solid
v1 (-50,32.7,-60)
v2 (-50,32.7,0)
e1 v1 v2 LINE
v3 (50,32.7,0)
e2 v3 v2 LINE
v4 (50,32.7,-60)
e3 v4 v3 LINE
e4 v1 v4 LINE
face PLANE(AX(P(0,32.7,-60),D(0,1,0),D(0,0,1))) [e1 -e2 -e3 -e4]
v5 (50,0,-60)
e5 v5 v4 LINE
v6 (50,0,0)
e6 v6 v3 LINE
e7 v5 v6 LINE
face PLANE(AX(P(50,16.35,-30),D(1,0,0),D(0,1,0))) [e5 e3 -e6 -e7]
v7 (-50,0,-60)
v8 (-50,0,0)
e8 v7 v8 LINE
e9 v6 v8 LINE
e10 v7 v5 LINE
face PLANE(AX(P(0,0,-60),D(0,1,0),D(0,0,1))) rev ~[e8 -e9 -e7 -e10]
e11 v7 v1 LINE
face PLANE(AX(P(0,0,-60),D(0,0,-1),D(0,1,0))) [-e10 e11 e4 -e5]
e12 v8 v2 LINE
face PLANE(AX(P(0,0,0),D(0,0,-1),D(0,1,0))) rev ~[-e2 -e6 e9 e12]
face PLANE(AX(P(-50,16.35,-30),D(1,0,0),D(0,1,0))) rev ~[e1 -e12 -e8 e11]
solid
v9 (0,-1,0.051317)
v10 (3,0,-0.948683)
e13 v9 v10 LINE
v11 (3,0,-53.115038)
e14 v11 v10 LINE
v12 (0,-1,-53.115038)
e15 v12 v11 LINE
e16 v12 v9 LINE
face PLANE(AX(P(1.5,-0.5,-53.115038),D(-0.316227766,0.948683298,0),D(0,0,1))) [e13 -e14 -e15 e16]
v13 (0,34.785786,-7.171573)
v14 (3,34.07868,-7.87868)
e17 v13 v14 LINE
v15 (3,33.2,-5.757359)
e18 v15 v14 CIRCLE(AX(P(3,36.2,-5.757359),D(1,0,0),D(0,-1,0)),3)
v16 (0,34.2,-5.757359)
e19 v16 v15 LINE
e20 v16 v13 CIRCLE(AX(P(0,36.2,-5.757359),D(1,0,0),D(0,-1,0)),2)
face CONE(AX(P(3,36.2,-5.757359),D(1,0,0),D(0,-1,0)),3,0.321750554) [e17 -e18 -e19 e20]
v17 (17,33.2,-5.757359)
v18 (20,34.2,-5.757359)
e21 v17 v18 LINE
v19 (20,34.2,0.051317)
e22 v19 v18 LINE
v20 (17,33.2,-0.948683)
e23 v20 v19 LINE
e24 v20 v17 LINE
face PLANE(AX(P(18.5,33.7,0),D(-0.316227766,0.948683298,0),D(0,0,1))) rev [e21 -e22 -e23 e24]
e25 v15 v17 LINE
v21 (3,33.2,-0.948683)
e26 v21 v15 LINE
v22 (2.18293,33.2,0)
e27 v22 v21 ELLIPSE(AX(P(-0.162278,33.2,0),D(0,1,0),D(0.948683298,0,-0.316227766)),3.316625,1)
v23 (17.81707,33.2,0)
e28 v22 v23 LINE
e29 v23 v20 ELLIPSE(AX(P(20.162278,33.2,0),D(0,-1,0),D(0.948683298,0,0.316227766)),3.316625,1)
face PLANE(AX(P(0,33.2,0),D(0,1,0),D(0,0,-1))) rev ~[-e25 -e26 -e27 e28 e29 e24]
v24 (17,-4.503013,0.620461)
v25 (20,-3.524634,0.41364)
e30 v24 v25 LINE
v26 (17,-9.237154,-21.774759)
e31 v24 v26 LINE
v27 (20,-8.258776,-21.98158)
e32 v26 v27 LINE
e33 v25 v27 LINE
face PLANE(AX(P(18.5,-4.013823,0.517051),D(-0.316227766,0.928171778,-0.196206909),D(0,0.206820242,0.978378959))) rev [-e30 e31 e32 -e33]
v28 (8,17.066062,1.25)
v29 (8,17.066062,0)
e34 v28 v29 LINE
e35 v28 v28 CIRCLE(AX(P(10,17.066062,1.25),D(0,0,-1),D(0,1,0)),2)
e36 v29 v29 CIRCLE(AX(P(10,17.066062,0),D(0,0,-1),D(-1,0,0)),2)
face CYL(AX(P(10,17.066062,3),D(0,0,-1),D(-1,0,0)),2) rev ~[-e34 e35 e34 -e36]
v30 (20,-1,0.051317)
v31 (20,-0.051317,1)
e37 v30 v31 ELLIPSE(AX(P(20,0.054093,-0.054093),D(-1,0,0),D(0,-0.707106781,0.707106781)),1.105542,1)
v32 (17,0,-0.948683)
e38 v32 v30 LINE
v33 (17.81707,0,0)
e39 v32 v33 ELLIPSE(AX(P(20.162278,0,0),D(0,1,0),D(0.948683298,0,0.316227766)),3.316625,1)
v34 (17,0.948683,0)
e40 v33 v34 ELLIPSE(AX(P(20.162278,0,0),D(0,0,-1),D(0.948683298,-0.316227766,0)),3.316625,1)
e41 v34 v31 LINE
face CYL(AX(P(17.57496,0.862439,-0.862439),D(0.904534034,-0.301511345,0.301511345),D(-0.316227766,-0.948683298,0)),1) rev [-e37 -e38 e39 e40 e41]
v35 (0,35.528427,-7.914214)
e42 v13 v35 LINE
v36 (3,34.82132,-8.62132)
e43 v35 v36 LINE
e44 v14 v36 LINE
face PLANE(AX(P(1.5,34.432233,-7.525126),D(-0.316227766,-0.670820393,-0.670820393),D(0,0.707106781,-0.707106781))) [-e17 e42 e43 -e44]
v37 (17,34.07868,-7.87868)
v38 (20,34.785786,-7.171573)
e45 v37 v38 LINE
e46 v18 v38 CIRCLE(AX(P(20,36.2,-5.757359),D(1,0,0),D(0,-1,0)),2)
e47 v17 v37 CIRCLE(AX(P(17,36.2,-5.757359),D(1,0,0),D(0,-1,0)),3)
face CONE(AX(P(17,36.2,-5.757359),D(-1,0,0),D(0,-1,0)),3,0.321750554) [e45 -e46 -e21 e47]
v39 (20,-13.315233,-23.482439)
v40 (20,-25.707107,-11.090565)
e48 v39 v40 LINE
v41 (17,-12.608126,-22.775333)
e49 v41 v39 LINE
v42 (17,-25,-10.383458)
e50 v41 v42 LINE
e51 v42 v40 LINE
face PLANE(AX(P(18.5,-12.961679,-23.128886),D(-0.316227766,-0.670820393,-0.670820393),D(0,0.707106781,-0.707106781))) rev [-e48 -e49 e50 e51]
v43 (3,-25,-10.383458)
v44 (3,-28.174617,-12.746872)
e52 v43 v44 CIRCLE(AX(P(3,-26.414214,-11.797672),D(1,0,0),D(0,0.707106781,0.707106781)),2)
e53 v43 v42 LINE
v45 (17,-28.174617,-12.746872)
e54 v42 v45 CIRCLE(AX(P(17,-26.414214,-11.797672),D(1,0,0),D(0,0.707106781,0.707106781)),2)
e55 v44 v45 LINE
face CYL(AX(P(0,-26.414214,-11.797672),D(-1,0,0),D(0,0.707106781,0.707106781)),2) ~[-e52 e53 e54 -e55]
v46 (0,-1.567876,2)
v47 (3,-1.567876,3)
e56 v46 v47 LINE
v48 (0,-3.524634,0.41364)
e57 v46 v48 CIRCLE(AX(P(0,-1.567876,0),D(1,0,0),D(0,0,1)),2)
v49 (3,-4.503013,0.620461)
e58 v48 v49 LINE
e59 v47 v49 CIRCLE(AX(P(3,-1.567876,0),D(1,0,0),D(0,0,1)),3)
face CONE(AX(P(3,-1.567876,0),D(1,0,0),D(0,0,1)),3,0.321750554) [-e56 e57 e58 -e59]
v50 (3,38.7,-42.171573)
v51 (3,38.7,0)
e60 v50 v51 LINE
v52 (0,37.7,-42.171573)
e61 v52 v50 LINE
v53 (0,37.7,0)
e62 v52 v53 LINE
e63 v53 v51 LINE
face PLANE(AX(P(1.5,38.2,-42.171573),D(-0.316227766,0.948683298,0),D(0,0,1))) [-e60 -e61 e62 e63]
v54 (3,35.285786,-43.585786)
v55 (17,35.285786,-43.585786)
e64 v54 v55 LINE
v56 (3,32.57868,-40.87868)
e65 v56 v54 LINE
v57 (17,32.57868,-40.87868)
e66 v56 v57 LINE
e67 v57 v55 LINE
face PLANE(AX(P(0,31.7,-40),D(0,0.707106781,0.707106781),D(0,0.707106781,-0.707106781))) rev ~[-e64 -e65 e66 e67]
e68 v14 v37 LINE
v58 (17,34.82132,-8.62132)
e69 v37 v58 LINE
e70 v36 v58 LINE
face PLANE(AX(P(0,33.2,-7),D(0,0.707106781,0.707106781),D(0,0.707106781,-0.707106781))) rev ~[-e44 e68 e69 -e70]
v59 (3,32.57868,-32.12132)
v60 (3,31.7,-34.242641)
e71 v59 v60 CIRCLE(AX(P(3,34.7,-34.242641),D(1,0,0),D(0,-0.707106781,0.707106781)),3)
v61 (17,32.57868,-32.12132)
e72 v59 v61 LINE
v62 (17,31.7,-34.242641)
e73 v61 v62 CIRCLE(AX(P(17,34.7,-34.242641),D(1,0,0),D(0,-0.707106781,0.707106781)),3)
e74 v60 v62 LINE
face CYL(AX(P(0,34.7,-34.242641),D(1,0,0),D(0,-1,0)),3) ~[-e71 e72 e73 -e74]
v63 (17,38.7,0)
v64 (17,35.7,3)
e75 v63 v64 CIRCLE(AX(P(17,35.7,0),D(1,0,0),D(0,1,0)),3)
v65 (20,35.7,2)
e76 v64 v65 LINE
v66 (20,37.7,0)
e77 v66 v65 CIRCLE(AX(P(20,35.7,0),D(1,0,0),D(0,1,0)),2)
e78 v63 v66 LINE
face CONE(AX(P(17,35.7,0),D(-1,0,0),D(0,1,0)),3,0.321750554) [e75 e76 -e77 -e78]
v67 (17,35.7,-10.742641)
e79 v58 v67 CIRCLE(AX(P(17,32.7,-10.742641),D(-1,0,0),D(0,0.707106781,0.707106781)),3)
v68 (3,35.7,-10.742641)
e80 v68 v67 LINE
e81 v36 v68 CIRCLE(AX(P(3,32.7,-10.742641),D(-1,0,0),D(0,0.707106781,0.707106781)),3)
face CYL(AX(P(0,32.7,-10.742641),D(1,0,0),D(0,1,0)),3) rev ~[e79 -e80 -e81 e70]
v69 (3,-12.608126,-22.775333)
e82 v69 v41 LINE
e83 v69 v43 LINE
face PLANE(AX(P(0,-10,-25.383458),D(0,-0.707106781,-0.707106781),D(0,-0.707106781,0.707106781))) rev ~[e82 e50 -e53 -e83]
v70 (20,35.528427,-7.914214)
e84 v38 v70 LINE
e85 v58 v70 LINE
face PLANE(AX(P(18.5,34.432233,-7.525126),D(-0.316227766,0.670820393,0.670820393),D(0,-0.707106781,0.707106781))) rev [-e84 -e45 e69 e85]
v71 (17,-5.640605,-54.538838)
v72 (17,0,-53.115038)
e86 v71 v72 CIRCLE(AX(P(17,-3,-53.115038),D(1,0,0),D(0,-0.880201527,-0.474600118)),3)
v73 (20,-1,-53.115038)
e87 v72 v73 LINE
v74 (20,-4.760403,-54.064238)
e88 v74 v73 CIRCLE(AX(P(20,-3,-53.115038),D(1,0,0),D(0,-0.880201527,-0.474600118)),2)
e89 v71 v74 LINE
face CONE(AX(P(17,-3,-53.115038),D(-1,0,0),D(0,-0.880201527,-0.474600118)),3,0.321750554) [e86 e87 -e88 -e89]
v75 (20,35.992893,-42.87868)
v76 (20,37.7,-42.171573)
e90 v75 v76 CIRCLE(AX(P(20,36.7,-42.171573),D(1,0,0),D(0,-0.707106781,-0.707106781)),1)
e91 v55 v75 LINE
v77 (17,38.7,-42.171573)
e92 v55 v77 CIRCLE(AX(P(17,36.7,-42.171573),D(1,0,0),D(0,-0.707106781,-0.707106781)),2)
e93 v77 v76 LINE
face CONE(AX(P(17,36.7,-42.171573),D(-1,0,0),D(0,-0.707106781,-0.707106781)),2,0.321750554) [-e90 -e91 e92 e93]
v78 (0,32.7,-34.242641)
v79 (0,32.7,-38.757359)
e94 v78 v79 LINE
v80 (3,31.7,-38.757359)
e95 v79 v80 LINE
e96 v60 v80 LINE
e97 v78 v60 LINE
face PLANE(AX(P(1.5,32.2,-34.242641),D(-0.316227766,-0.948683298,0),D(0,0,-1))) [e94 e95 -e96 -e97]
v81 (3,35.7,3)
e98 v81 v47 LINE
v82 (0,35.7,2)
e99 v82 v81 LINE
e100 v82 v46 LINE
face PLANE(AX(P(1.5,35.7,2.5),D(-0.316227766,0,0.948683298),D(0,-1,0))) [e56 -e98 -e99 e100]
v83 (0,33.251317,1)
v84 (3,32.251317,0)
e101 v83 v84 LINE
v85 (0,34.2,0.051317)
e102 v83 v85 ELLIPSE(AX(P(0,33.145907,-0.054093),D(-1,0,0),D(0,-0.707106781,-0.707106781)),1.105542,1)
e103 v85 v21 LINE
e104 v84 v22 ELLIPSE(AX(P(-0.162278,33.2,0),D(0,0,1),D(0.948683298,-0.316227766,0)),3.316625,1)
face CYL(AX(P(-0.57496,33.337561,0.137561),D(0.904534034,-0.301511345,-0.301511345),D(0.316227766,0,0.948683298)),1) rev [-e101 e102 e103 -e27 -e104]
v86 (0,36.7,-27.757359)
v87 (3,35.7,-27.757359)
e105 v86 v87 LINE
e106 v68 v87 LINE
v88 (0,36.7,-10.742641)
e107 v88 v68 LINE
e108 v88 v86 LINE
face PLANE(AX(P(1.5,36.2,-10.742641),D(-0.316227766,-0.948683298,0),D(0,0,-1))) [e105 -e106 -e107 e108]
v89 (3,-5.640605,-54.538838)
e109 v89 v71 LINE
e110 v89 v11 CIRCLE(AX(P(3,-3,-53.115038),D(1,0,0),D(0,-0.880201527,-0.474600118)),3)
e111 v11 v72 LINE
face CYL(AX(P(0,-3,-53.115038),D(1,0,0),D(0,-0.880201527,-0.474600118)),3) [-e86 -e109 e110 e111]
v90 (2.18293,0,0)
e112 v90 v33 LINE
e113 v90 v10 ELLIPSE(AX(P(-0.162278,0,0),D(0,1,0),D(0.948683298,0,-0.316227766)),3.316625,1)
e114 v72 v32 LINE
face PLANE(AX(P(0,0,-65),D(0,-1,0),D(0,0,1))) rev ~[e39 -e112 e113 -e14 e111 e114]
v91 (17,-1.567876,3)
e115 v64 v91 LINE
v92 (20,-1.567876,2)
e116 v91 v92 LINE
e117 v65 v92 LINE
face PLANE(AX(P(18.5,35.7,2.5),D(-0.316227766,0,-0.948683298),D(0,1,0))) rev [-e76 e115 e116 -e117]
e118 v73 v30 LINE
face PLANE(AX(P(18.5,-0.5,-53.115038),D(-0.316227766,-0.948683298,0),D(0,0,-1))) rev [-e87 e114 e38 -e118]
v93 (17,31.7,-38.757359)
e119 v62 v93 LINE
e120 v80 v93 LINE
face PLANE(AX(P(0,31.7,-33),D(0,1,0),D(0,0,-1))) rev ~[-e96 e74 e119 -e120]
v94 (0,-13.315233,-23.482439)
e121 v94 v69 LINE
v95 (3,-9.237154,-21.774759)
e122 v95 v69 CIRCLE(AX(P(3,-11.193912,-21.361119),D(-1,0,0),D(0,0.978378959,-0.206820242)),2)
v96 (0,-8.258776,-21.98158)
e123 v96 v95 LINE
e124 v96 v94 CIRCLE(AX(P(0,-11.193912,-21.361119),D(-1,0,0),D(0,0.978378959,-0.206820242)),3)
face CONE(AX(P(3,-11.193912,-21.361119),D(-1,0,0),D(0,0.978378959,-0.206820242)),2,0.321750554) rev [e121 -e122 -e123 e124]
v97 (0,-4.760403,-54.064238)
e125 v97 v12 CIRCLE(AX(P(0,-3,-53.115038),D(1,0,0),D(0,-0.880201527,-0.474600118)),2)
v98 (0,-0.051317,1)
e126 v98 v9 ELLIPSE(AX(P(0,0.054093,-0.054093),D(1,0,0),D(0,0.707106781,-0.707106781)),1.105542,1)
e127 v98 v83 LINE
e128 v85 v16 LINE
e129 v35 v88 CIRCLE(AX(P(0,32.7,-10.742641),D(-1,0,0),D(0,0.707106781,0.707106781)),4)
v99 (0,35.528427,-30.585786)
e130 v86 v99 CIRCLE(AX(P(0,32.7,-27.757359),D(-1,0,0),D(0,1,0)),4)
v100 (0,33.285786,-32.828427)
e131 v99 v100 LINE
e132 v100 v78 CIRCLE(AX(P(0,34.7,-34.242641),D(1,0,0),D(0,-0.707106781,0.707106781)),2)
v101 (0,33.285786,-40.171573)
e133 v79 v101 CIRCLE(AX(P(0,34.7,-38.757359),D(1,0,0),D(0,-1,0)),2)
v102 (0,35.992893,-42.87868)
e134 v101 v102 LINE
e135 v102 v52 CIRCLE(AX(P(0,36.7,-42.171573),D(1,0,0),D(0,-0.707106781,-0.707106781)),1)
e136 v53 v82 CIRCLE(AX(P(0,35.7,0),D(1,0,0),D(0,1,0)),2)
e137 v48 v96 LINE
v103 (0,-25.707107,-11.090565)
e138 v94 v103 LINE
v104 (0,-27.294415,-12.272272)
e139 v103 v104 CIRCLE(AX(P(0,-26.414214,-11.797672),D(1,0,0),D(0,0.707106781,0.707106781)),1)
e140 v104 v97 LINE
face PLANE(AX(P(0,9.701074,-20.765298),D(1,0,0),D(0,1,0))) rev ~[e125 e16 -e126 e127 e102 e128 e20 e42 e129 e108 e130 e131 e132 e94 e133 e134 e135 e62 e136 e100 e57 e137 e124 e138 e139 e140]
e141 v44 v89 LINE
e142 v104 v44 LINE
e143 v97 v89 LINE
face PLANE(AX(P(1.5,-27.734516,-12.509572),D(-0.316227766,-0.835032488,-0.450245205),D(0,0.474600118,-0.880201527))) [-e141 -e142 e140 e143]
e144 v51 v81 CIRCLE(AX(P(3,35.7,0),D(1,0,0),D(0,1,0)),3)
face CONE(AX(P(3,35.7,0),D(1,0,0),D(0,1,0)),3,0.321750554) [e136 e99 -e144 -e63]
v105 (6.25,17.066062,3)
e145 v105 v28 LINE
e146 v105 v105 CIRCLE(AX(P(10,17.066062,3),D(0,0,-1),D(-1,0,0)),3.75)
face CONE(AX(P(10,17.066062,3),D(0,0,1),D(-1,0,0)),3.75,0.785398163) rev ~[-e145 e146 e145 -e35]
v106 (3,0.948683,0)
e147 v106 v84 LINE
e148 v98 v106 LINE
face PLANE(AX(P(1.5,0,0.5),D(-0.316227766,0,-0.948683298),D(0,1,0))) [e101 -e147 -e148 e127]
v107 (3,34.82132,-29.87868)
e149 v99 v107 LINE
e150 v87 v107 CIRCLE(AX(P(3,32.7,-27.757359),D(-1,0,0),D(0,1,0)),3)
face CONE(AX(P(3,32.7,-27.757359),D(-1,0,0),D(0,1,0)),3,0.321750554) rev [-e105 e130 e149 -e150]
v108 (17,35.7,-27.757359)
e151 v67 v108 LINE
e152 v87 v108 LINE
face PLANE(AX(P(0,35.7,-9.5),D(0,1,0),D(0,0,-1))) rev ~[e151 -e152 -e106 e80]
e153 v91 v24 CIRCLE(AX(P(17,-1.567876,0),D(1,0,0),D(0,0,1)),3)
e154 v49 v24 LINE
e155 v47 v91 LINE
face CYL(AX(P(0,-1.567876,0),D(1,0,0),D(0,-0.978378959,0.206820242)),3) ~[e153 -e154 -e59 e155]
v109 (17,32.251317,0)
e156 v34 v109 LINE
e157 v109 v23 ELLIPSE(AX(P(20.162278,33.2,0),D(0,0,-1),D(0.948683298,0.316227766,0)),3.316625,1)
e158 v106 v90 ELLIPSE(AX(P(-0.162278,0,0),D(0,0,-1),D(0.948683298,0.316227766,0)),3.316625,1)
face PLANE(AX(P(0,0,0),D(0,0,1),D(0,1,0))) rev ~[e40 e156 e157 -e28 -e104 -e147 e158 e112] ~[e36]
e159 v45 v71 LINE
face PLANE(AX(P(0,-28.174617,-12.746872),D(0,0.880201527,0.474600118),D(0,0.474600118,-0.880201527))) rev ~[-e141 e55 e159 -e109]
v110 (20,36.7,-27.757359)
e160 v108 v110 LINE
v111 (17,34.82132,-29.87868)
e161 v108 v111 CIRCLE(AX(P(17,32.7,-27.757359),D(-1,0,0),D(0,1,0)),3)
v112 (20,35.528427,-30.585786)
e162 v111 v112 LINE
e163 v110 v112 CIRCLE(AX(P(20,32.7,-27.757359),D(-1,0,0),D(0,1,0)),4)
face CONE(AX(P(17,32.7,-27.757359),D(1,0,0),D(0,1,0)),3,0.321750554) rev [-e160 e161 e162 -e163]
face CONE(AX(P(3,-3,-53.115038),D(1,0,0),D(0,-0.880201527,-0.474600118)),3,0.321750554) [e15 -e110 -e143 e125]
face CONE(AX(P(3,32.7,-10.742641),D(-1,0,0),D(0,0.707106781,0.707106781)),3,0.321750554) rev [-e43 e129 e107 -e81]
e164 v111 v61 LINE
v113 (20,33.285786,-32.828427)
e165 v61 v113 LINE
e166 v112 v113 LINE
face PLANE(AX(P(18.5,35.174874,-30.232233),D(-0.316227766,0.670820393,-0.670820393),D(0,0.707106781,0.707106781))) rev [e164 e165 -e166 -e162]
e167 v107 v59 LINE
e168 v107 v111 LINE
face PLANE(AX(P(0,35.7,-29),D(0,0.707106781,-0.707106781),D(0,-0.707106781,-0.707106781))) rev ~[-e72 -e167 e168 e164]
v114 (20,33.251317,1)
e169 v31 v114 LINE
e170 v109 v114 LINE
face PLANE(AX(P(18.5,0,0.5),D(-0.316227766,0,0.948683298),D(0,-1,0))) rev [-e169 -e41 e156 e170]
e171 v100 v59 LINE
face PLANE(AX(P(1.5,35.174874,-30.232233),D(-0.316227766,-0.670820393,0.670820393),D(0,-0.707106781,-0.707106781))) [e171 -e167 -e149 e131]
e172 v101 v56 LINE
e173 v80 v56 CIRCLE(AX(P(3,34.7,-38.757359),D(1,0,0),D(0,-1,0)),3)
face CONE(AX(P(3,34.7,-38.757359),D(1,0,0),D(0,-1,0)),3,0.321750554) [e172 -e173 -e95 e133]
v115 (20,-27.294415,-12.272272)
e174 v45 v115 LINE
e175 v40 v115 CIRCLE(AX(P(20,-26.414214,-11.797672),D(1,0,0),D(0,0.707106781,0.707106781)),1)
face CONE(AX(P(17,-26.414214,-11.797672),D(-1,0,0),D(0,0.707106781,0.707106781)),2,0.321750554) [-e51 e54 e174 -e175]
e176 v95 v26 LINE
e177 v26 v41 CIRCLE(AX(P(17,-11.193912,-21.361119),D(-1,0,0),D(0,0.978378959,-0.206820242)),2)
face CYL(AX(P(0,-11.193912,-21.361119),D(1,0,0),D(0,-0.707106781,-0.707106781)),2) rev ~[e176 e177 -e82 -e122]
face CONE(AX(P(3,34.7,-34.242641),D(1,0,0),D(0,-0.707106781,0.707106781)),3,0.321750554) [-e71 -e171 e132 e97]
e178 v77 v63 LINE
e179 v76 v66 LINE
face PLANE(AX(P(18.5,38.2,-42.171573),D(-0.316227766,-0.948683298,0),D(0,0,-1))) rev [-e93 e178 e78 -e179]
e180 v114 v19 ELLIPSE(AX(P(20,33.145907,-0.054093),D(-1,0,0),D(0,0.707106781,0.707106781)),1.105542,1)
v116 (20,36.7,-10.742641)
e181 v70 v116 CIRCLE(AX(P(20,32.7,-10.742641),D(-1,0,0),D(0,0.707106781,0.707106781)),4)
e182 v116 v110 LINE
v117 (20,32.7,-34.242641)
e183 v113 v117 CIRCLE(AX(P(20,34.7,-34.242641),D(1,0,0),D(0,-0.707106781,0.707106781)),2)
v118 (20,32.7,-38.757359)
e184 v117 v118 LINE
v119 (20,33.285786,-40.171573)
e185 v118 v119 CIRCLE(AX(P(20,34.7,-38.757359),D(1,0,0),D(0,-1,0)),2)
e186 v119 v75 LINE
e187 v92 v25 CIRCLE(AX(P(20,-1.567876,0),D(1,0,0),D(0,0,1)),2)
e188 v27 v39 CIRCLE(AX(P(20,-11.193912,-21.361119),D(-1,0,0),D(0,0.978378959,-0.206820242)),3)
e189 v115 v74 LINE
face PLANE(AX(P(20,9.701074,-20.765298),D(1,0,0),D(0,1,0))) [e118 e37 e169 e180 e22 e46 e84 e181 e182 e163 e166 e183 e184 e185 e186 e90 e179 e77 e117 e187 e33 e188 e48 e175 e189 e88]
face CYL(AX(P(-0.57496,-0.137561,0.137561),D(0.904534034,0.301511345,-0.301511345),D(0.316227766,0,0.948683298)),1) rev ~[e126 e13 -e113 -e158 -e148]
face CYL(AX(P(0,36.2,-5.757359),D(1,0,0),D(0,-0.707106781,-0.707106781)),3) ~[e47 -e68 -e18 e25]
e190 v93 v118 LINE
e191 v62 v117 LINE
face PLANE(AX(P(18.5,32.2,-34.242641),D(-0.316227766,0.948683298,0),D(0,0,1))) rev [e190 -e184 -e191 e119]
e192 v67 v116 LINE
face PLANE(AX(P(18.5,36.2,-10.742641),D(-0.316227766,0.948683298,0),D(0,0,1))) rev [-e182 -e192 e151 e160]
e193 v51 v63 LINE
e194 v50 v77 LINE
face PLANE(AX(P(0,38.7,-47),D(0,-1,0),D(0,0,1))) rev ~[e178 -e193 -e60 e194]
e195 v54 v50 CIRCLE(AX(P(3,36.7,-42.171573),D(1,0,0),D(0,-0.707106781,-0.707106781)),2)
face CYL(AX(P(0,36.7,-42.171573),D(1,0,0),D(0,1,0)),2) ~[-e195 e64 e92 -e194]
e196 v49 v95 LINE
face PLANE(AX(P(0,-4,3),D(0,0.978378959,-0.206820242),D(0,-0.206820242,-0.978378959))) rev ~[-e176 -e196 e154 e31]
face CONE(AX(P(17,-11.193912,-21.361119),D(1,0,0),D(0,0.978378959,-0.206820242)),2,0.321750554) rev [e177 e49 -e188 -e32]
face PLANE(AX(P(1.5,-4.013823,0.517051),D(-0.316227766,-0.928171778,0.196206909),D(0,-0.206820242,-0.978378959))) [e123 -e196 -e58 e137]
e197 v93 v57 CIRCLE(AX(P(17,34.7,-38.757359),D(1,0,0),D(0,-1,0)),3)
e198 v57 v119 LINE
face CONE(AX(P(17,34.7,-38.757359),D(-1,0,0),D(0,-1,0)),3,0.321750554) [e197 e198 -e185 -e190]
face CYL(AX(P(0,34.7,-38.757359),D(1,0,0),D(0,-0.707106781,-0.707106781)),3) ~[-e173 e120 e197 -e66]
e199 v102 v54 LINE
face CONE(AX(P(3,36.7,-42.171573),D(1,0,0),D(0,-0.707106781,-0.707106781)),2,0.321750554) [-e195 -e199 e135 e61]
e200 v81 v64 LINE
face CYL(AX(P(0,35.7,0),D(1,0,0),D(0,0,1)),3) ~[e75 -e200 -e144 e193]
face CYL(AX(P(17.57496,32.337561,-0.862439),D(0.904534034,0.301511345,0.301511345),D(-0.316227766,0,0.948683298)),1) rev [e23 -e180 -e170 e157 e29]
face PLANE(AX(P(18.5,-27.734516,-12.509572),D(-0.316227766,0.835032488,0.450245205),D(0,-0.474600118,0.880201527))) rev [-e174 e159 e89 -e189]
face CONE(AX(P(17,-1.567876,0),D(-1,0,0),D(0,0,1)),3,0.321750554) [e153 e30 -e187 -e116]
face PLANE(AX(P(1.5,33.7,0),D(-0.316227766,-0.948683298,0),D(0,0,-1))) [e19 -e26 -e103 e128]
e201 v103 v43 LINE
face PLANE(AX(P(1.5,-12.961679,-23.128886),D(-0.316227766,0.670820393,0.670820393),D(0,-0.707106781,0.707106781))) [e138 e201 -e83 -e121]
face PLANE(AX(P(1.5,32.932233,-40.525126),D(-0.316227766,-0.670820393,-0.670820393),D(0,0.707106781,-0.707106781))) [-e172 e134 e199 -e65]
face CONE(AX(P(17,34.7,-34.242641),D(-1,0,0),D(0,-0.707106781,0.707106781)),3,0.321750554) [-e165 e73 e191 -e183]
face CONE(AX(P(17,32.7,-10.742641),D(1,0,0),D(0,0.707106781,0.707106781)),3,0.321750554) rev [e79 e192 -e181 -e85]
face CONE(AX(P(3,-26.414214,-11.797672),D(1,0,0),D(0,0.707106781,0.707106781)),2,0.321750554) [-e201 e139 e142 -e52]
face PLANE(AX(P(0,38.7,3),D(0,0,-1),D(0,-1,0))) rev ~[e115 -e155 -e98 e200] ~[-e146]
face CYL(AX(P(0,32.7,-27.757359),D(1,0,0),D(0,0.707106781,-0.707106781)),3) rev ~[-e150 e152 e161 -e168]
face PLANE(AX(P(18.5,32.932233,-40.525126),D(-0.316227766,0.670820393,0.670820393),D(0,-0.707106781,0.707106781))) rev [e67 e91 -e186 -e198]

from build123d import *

# Parameters (mm, degrees)
F0_W            = 32.7
F0_H            = 60
F1_DEPTH        = 50
F1_DEPTH_BACK   = 50
F3_DEPTH        = 20
F4_R            = 3
F5_R            = 2
F6_R            = 3
F7_R            = 2
F8_R            = 3
F9_SIZE2        = 1
F9_SIZE         = 3
F10_SIZE2       = 3
F10_SIZE        = 1
F12_D           = 4
F12_CSINK_D     = 7.5
F12_CSINK_ANGLE = 90
F13_R           = 1


with BuildPart() as f1:
    # F0 (on Right) → F1 (new body, two sides)
    with BuildSketch(Plane.YZ) as f1_sk:
        with Locations((16.35, -30)):
            Rectangle(F0_W, F0_H)
    extrude(amount=F1_DEPTH)
    extrude(f1_sk.sketch, amount=-F1_DEPTH_BACK)


with BuildPart() as f3:
    # F2 (on Right) → F3 (new body)
    with BuildSketch(Plane.YZ):
        with BuildLine():
            Line((-28.1746166165, -12.7468722772), (0, -65))
            Line((0, -65), (0, 0))
            Line((0, 0), (33.2, 0))
            Line((33.2, 0), (33.2, -7))
            Line((33.2, -7), (35.7, -9.5))
            Line((35.7, -9.5), (35.7, -29))
            Line((35.7, -29), (31.7, -33))
            Line((31.7, -33), (31.7, -40))
            Line((31.7, -40), (38.7, -47))
            Line((38.7, -47), (38.7, 3))
            Line((38.7, 3), (-4, 3))
            Line((-4, 3), (-10, -25.3834584793))
            Line((-10, -25.3834584793), (-25, -10.3834584793))
            ThreePointArc((-25, -10.3834584793), (-27.6085305161, -10.1934254852), (-28.1746166165, -12.7468722772))
        make_face()
    extrude(amount=F3_DEPTH)

    # F4
    f4_edges = [f3.edges().sort_by_distance(p)[0] for p in [
        (10, 0, -65),
    ]]
    fillet(f4_edges, radius=F4_R)

    # F5
    f5_edges = [f3.edges().sort_by_distance(p)[0] for p in [
        (10, -10, -25.383458),
    ]]
    fillet(f5_edges, radius=F5_R)

    # F6
    f6_edges = [f3.edges().sort_by_distance(p)[0] for p in [
        (10, -4, 3),
        (10, 38.7, 3),
    ]]
    fillet(f6_edges, radius=F6_R)

    # F7
    f7_edges = [f3.edges().sort_by_distance(p)[0] for p in [
        (10, 38.7, -47),
    ]]
    fillet(f7_edges, radius=F7_R)

    # F8
    f8_edges = [f3.edges().sort_by_distance(p)[0] for p in [
        (10, 33.2, -7),
        (10, 35.7, -9.5),
        (10, 35.7, -29),
        (10, 31.7, -33),
        (10, 31.7, -40),
    ]]
    fillet(f8_edges, radius=F8_R)

    # F9
    f9_edges = [f3.edges().sort_by_distance(p)[0] for p in [
        (20, 33.932233, -42.232233),
        (20, 31.928361, -39.90541),
        (20, 37.465367, -44.019332),
        (20, 31.7, -36.5),
        (20, 38.7, -21.085786),
        (20, 31.928361, -33.09459),
        (20, 37.82132, 2.12132),
        (20, 33.7, -31),
        (20, 17.066062, 3),
        (20, 35.471639, -28.90541),
        (20, -3.457137, 2.330384),
        (20, 35.7, -19.25),
        (20, -6.870084, -10.577149),
        (20, 35.471639, -9.59459),
        (20, -10.624812, -23.278441),
        (20, 34.45, -8.25),
        (20, -18.804063, -16.579396),
        (20, 33.428361, -6.90541),
        (20, -27.608531, -10.193425),
        (20, 33.2, -2.87868),
        (20, -16.907611, -33.642855),
        (20, 16.6, 0),
        (20, -2.26577, -56.023801),
        (20, 0, -26.557519),
    ]]
    chamfer(f9_edges, length=F9_SIZE, length2=F9_SIZE2)

    # F10
    f10_edges = [f3.edges().sort_by_distance(p)[0] for p in [
        (0, 33.932233, -42.232233),
        (0, 31.928361, -39.90541),
        (0, 37.465367, -44.019332),
        (0, 31.7, -36.5),
        (0, 38.7, -21.085786),
        (0, 31.928361, -33.09459),
        (0, 37.82132, 2.12132),
        (0, 33.7, -31),
        (0, 17.066062, 3),
        (0, 35.471639, -28.90541),
        (0, -3.457137, 2.330384),
        (0, 35.7, -19.25),
        (0, -6.870084, -10.577149),
        (0, 35.471639, -9.59459),
        (0, -10.624812, -23.278441),
        (0, 34.45, -8.25),
        (0, -18.804063, -16.579396),
        (0, 33.428361, -6.90541),
        (0, -27.608531, -10.193425),
        (0, 33.2, -2.87868),
        (0, -16.907611, -33.642855),
        (0, 16.6, 0),
        (0, -2.26577, -56.023801),
        (0, 0, -26.557519),
    ]]
    f10_side = f3.faces().sort_by_distance((0, 34.564645, -41.599821))[0]
    chamfer(f10_edges, length=F10_SIZE, length2=F10_SIZE2, reference=f10_side)

    # F12 (through all)
    with Locations(Plane.XY.offset(3)):
        with Locations((10, 17.0660621668)):
            CounterSinkHole(F12_D / 2, F12_CSINK_D / 2, counter_sink_angle=F12_CSINK_ANGLE)

    # F13 (call 1 of 4: OpenCascade refuses the feature's edges together)
    f13_edges = [f3.edges().sort_by_distance(p)[0] for p in [
        (18.5, -0.5, 0.5),
    ]]
    fillet(f13_edges, radius=F13_R)

    # F13#2 (call 2 of 4)
    f13_2_edges = [f3.edges().sort_by_distance(p)[0] for p in [
        (18.5, 33.7, 0.5),
    ]]
    fillet(f13_2_edges, radius=F13_R)

    # F13#3 (call 3 of 4)
    f13_3_edges = [f3.edges().sort_by_distance(p)[0] for p in [
        (1.5, -0.5, 0.5),
    ]]
    fillet(f13_3_edges, radius=F13_R)

    # F13#4 (call 4 of 4)
    f13_4_edges = [f3.edges().sort_by_distance(p)[0] for p in [
        (1.5, 33.7, 0.5),
    ]]
    fillet(f13_4_edges, radius=F13_R)


solid = Compound([f1.part, f3.part])
